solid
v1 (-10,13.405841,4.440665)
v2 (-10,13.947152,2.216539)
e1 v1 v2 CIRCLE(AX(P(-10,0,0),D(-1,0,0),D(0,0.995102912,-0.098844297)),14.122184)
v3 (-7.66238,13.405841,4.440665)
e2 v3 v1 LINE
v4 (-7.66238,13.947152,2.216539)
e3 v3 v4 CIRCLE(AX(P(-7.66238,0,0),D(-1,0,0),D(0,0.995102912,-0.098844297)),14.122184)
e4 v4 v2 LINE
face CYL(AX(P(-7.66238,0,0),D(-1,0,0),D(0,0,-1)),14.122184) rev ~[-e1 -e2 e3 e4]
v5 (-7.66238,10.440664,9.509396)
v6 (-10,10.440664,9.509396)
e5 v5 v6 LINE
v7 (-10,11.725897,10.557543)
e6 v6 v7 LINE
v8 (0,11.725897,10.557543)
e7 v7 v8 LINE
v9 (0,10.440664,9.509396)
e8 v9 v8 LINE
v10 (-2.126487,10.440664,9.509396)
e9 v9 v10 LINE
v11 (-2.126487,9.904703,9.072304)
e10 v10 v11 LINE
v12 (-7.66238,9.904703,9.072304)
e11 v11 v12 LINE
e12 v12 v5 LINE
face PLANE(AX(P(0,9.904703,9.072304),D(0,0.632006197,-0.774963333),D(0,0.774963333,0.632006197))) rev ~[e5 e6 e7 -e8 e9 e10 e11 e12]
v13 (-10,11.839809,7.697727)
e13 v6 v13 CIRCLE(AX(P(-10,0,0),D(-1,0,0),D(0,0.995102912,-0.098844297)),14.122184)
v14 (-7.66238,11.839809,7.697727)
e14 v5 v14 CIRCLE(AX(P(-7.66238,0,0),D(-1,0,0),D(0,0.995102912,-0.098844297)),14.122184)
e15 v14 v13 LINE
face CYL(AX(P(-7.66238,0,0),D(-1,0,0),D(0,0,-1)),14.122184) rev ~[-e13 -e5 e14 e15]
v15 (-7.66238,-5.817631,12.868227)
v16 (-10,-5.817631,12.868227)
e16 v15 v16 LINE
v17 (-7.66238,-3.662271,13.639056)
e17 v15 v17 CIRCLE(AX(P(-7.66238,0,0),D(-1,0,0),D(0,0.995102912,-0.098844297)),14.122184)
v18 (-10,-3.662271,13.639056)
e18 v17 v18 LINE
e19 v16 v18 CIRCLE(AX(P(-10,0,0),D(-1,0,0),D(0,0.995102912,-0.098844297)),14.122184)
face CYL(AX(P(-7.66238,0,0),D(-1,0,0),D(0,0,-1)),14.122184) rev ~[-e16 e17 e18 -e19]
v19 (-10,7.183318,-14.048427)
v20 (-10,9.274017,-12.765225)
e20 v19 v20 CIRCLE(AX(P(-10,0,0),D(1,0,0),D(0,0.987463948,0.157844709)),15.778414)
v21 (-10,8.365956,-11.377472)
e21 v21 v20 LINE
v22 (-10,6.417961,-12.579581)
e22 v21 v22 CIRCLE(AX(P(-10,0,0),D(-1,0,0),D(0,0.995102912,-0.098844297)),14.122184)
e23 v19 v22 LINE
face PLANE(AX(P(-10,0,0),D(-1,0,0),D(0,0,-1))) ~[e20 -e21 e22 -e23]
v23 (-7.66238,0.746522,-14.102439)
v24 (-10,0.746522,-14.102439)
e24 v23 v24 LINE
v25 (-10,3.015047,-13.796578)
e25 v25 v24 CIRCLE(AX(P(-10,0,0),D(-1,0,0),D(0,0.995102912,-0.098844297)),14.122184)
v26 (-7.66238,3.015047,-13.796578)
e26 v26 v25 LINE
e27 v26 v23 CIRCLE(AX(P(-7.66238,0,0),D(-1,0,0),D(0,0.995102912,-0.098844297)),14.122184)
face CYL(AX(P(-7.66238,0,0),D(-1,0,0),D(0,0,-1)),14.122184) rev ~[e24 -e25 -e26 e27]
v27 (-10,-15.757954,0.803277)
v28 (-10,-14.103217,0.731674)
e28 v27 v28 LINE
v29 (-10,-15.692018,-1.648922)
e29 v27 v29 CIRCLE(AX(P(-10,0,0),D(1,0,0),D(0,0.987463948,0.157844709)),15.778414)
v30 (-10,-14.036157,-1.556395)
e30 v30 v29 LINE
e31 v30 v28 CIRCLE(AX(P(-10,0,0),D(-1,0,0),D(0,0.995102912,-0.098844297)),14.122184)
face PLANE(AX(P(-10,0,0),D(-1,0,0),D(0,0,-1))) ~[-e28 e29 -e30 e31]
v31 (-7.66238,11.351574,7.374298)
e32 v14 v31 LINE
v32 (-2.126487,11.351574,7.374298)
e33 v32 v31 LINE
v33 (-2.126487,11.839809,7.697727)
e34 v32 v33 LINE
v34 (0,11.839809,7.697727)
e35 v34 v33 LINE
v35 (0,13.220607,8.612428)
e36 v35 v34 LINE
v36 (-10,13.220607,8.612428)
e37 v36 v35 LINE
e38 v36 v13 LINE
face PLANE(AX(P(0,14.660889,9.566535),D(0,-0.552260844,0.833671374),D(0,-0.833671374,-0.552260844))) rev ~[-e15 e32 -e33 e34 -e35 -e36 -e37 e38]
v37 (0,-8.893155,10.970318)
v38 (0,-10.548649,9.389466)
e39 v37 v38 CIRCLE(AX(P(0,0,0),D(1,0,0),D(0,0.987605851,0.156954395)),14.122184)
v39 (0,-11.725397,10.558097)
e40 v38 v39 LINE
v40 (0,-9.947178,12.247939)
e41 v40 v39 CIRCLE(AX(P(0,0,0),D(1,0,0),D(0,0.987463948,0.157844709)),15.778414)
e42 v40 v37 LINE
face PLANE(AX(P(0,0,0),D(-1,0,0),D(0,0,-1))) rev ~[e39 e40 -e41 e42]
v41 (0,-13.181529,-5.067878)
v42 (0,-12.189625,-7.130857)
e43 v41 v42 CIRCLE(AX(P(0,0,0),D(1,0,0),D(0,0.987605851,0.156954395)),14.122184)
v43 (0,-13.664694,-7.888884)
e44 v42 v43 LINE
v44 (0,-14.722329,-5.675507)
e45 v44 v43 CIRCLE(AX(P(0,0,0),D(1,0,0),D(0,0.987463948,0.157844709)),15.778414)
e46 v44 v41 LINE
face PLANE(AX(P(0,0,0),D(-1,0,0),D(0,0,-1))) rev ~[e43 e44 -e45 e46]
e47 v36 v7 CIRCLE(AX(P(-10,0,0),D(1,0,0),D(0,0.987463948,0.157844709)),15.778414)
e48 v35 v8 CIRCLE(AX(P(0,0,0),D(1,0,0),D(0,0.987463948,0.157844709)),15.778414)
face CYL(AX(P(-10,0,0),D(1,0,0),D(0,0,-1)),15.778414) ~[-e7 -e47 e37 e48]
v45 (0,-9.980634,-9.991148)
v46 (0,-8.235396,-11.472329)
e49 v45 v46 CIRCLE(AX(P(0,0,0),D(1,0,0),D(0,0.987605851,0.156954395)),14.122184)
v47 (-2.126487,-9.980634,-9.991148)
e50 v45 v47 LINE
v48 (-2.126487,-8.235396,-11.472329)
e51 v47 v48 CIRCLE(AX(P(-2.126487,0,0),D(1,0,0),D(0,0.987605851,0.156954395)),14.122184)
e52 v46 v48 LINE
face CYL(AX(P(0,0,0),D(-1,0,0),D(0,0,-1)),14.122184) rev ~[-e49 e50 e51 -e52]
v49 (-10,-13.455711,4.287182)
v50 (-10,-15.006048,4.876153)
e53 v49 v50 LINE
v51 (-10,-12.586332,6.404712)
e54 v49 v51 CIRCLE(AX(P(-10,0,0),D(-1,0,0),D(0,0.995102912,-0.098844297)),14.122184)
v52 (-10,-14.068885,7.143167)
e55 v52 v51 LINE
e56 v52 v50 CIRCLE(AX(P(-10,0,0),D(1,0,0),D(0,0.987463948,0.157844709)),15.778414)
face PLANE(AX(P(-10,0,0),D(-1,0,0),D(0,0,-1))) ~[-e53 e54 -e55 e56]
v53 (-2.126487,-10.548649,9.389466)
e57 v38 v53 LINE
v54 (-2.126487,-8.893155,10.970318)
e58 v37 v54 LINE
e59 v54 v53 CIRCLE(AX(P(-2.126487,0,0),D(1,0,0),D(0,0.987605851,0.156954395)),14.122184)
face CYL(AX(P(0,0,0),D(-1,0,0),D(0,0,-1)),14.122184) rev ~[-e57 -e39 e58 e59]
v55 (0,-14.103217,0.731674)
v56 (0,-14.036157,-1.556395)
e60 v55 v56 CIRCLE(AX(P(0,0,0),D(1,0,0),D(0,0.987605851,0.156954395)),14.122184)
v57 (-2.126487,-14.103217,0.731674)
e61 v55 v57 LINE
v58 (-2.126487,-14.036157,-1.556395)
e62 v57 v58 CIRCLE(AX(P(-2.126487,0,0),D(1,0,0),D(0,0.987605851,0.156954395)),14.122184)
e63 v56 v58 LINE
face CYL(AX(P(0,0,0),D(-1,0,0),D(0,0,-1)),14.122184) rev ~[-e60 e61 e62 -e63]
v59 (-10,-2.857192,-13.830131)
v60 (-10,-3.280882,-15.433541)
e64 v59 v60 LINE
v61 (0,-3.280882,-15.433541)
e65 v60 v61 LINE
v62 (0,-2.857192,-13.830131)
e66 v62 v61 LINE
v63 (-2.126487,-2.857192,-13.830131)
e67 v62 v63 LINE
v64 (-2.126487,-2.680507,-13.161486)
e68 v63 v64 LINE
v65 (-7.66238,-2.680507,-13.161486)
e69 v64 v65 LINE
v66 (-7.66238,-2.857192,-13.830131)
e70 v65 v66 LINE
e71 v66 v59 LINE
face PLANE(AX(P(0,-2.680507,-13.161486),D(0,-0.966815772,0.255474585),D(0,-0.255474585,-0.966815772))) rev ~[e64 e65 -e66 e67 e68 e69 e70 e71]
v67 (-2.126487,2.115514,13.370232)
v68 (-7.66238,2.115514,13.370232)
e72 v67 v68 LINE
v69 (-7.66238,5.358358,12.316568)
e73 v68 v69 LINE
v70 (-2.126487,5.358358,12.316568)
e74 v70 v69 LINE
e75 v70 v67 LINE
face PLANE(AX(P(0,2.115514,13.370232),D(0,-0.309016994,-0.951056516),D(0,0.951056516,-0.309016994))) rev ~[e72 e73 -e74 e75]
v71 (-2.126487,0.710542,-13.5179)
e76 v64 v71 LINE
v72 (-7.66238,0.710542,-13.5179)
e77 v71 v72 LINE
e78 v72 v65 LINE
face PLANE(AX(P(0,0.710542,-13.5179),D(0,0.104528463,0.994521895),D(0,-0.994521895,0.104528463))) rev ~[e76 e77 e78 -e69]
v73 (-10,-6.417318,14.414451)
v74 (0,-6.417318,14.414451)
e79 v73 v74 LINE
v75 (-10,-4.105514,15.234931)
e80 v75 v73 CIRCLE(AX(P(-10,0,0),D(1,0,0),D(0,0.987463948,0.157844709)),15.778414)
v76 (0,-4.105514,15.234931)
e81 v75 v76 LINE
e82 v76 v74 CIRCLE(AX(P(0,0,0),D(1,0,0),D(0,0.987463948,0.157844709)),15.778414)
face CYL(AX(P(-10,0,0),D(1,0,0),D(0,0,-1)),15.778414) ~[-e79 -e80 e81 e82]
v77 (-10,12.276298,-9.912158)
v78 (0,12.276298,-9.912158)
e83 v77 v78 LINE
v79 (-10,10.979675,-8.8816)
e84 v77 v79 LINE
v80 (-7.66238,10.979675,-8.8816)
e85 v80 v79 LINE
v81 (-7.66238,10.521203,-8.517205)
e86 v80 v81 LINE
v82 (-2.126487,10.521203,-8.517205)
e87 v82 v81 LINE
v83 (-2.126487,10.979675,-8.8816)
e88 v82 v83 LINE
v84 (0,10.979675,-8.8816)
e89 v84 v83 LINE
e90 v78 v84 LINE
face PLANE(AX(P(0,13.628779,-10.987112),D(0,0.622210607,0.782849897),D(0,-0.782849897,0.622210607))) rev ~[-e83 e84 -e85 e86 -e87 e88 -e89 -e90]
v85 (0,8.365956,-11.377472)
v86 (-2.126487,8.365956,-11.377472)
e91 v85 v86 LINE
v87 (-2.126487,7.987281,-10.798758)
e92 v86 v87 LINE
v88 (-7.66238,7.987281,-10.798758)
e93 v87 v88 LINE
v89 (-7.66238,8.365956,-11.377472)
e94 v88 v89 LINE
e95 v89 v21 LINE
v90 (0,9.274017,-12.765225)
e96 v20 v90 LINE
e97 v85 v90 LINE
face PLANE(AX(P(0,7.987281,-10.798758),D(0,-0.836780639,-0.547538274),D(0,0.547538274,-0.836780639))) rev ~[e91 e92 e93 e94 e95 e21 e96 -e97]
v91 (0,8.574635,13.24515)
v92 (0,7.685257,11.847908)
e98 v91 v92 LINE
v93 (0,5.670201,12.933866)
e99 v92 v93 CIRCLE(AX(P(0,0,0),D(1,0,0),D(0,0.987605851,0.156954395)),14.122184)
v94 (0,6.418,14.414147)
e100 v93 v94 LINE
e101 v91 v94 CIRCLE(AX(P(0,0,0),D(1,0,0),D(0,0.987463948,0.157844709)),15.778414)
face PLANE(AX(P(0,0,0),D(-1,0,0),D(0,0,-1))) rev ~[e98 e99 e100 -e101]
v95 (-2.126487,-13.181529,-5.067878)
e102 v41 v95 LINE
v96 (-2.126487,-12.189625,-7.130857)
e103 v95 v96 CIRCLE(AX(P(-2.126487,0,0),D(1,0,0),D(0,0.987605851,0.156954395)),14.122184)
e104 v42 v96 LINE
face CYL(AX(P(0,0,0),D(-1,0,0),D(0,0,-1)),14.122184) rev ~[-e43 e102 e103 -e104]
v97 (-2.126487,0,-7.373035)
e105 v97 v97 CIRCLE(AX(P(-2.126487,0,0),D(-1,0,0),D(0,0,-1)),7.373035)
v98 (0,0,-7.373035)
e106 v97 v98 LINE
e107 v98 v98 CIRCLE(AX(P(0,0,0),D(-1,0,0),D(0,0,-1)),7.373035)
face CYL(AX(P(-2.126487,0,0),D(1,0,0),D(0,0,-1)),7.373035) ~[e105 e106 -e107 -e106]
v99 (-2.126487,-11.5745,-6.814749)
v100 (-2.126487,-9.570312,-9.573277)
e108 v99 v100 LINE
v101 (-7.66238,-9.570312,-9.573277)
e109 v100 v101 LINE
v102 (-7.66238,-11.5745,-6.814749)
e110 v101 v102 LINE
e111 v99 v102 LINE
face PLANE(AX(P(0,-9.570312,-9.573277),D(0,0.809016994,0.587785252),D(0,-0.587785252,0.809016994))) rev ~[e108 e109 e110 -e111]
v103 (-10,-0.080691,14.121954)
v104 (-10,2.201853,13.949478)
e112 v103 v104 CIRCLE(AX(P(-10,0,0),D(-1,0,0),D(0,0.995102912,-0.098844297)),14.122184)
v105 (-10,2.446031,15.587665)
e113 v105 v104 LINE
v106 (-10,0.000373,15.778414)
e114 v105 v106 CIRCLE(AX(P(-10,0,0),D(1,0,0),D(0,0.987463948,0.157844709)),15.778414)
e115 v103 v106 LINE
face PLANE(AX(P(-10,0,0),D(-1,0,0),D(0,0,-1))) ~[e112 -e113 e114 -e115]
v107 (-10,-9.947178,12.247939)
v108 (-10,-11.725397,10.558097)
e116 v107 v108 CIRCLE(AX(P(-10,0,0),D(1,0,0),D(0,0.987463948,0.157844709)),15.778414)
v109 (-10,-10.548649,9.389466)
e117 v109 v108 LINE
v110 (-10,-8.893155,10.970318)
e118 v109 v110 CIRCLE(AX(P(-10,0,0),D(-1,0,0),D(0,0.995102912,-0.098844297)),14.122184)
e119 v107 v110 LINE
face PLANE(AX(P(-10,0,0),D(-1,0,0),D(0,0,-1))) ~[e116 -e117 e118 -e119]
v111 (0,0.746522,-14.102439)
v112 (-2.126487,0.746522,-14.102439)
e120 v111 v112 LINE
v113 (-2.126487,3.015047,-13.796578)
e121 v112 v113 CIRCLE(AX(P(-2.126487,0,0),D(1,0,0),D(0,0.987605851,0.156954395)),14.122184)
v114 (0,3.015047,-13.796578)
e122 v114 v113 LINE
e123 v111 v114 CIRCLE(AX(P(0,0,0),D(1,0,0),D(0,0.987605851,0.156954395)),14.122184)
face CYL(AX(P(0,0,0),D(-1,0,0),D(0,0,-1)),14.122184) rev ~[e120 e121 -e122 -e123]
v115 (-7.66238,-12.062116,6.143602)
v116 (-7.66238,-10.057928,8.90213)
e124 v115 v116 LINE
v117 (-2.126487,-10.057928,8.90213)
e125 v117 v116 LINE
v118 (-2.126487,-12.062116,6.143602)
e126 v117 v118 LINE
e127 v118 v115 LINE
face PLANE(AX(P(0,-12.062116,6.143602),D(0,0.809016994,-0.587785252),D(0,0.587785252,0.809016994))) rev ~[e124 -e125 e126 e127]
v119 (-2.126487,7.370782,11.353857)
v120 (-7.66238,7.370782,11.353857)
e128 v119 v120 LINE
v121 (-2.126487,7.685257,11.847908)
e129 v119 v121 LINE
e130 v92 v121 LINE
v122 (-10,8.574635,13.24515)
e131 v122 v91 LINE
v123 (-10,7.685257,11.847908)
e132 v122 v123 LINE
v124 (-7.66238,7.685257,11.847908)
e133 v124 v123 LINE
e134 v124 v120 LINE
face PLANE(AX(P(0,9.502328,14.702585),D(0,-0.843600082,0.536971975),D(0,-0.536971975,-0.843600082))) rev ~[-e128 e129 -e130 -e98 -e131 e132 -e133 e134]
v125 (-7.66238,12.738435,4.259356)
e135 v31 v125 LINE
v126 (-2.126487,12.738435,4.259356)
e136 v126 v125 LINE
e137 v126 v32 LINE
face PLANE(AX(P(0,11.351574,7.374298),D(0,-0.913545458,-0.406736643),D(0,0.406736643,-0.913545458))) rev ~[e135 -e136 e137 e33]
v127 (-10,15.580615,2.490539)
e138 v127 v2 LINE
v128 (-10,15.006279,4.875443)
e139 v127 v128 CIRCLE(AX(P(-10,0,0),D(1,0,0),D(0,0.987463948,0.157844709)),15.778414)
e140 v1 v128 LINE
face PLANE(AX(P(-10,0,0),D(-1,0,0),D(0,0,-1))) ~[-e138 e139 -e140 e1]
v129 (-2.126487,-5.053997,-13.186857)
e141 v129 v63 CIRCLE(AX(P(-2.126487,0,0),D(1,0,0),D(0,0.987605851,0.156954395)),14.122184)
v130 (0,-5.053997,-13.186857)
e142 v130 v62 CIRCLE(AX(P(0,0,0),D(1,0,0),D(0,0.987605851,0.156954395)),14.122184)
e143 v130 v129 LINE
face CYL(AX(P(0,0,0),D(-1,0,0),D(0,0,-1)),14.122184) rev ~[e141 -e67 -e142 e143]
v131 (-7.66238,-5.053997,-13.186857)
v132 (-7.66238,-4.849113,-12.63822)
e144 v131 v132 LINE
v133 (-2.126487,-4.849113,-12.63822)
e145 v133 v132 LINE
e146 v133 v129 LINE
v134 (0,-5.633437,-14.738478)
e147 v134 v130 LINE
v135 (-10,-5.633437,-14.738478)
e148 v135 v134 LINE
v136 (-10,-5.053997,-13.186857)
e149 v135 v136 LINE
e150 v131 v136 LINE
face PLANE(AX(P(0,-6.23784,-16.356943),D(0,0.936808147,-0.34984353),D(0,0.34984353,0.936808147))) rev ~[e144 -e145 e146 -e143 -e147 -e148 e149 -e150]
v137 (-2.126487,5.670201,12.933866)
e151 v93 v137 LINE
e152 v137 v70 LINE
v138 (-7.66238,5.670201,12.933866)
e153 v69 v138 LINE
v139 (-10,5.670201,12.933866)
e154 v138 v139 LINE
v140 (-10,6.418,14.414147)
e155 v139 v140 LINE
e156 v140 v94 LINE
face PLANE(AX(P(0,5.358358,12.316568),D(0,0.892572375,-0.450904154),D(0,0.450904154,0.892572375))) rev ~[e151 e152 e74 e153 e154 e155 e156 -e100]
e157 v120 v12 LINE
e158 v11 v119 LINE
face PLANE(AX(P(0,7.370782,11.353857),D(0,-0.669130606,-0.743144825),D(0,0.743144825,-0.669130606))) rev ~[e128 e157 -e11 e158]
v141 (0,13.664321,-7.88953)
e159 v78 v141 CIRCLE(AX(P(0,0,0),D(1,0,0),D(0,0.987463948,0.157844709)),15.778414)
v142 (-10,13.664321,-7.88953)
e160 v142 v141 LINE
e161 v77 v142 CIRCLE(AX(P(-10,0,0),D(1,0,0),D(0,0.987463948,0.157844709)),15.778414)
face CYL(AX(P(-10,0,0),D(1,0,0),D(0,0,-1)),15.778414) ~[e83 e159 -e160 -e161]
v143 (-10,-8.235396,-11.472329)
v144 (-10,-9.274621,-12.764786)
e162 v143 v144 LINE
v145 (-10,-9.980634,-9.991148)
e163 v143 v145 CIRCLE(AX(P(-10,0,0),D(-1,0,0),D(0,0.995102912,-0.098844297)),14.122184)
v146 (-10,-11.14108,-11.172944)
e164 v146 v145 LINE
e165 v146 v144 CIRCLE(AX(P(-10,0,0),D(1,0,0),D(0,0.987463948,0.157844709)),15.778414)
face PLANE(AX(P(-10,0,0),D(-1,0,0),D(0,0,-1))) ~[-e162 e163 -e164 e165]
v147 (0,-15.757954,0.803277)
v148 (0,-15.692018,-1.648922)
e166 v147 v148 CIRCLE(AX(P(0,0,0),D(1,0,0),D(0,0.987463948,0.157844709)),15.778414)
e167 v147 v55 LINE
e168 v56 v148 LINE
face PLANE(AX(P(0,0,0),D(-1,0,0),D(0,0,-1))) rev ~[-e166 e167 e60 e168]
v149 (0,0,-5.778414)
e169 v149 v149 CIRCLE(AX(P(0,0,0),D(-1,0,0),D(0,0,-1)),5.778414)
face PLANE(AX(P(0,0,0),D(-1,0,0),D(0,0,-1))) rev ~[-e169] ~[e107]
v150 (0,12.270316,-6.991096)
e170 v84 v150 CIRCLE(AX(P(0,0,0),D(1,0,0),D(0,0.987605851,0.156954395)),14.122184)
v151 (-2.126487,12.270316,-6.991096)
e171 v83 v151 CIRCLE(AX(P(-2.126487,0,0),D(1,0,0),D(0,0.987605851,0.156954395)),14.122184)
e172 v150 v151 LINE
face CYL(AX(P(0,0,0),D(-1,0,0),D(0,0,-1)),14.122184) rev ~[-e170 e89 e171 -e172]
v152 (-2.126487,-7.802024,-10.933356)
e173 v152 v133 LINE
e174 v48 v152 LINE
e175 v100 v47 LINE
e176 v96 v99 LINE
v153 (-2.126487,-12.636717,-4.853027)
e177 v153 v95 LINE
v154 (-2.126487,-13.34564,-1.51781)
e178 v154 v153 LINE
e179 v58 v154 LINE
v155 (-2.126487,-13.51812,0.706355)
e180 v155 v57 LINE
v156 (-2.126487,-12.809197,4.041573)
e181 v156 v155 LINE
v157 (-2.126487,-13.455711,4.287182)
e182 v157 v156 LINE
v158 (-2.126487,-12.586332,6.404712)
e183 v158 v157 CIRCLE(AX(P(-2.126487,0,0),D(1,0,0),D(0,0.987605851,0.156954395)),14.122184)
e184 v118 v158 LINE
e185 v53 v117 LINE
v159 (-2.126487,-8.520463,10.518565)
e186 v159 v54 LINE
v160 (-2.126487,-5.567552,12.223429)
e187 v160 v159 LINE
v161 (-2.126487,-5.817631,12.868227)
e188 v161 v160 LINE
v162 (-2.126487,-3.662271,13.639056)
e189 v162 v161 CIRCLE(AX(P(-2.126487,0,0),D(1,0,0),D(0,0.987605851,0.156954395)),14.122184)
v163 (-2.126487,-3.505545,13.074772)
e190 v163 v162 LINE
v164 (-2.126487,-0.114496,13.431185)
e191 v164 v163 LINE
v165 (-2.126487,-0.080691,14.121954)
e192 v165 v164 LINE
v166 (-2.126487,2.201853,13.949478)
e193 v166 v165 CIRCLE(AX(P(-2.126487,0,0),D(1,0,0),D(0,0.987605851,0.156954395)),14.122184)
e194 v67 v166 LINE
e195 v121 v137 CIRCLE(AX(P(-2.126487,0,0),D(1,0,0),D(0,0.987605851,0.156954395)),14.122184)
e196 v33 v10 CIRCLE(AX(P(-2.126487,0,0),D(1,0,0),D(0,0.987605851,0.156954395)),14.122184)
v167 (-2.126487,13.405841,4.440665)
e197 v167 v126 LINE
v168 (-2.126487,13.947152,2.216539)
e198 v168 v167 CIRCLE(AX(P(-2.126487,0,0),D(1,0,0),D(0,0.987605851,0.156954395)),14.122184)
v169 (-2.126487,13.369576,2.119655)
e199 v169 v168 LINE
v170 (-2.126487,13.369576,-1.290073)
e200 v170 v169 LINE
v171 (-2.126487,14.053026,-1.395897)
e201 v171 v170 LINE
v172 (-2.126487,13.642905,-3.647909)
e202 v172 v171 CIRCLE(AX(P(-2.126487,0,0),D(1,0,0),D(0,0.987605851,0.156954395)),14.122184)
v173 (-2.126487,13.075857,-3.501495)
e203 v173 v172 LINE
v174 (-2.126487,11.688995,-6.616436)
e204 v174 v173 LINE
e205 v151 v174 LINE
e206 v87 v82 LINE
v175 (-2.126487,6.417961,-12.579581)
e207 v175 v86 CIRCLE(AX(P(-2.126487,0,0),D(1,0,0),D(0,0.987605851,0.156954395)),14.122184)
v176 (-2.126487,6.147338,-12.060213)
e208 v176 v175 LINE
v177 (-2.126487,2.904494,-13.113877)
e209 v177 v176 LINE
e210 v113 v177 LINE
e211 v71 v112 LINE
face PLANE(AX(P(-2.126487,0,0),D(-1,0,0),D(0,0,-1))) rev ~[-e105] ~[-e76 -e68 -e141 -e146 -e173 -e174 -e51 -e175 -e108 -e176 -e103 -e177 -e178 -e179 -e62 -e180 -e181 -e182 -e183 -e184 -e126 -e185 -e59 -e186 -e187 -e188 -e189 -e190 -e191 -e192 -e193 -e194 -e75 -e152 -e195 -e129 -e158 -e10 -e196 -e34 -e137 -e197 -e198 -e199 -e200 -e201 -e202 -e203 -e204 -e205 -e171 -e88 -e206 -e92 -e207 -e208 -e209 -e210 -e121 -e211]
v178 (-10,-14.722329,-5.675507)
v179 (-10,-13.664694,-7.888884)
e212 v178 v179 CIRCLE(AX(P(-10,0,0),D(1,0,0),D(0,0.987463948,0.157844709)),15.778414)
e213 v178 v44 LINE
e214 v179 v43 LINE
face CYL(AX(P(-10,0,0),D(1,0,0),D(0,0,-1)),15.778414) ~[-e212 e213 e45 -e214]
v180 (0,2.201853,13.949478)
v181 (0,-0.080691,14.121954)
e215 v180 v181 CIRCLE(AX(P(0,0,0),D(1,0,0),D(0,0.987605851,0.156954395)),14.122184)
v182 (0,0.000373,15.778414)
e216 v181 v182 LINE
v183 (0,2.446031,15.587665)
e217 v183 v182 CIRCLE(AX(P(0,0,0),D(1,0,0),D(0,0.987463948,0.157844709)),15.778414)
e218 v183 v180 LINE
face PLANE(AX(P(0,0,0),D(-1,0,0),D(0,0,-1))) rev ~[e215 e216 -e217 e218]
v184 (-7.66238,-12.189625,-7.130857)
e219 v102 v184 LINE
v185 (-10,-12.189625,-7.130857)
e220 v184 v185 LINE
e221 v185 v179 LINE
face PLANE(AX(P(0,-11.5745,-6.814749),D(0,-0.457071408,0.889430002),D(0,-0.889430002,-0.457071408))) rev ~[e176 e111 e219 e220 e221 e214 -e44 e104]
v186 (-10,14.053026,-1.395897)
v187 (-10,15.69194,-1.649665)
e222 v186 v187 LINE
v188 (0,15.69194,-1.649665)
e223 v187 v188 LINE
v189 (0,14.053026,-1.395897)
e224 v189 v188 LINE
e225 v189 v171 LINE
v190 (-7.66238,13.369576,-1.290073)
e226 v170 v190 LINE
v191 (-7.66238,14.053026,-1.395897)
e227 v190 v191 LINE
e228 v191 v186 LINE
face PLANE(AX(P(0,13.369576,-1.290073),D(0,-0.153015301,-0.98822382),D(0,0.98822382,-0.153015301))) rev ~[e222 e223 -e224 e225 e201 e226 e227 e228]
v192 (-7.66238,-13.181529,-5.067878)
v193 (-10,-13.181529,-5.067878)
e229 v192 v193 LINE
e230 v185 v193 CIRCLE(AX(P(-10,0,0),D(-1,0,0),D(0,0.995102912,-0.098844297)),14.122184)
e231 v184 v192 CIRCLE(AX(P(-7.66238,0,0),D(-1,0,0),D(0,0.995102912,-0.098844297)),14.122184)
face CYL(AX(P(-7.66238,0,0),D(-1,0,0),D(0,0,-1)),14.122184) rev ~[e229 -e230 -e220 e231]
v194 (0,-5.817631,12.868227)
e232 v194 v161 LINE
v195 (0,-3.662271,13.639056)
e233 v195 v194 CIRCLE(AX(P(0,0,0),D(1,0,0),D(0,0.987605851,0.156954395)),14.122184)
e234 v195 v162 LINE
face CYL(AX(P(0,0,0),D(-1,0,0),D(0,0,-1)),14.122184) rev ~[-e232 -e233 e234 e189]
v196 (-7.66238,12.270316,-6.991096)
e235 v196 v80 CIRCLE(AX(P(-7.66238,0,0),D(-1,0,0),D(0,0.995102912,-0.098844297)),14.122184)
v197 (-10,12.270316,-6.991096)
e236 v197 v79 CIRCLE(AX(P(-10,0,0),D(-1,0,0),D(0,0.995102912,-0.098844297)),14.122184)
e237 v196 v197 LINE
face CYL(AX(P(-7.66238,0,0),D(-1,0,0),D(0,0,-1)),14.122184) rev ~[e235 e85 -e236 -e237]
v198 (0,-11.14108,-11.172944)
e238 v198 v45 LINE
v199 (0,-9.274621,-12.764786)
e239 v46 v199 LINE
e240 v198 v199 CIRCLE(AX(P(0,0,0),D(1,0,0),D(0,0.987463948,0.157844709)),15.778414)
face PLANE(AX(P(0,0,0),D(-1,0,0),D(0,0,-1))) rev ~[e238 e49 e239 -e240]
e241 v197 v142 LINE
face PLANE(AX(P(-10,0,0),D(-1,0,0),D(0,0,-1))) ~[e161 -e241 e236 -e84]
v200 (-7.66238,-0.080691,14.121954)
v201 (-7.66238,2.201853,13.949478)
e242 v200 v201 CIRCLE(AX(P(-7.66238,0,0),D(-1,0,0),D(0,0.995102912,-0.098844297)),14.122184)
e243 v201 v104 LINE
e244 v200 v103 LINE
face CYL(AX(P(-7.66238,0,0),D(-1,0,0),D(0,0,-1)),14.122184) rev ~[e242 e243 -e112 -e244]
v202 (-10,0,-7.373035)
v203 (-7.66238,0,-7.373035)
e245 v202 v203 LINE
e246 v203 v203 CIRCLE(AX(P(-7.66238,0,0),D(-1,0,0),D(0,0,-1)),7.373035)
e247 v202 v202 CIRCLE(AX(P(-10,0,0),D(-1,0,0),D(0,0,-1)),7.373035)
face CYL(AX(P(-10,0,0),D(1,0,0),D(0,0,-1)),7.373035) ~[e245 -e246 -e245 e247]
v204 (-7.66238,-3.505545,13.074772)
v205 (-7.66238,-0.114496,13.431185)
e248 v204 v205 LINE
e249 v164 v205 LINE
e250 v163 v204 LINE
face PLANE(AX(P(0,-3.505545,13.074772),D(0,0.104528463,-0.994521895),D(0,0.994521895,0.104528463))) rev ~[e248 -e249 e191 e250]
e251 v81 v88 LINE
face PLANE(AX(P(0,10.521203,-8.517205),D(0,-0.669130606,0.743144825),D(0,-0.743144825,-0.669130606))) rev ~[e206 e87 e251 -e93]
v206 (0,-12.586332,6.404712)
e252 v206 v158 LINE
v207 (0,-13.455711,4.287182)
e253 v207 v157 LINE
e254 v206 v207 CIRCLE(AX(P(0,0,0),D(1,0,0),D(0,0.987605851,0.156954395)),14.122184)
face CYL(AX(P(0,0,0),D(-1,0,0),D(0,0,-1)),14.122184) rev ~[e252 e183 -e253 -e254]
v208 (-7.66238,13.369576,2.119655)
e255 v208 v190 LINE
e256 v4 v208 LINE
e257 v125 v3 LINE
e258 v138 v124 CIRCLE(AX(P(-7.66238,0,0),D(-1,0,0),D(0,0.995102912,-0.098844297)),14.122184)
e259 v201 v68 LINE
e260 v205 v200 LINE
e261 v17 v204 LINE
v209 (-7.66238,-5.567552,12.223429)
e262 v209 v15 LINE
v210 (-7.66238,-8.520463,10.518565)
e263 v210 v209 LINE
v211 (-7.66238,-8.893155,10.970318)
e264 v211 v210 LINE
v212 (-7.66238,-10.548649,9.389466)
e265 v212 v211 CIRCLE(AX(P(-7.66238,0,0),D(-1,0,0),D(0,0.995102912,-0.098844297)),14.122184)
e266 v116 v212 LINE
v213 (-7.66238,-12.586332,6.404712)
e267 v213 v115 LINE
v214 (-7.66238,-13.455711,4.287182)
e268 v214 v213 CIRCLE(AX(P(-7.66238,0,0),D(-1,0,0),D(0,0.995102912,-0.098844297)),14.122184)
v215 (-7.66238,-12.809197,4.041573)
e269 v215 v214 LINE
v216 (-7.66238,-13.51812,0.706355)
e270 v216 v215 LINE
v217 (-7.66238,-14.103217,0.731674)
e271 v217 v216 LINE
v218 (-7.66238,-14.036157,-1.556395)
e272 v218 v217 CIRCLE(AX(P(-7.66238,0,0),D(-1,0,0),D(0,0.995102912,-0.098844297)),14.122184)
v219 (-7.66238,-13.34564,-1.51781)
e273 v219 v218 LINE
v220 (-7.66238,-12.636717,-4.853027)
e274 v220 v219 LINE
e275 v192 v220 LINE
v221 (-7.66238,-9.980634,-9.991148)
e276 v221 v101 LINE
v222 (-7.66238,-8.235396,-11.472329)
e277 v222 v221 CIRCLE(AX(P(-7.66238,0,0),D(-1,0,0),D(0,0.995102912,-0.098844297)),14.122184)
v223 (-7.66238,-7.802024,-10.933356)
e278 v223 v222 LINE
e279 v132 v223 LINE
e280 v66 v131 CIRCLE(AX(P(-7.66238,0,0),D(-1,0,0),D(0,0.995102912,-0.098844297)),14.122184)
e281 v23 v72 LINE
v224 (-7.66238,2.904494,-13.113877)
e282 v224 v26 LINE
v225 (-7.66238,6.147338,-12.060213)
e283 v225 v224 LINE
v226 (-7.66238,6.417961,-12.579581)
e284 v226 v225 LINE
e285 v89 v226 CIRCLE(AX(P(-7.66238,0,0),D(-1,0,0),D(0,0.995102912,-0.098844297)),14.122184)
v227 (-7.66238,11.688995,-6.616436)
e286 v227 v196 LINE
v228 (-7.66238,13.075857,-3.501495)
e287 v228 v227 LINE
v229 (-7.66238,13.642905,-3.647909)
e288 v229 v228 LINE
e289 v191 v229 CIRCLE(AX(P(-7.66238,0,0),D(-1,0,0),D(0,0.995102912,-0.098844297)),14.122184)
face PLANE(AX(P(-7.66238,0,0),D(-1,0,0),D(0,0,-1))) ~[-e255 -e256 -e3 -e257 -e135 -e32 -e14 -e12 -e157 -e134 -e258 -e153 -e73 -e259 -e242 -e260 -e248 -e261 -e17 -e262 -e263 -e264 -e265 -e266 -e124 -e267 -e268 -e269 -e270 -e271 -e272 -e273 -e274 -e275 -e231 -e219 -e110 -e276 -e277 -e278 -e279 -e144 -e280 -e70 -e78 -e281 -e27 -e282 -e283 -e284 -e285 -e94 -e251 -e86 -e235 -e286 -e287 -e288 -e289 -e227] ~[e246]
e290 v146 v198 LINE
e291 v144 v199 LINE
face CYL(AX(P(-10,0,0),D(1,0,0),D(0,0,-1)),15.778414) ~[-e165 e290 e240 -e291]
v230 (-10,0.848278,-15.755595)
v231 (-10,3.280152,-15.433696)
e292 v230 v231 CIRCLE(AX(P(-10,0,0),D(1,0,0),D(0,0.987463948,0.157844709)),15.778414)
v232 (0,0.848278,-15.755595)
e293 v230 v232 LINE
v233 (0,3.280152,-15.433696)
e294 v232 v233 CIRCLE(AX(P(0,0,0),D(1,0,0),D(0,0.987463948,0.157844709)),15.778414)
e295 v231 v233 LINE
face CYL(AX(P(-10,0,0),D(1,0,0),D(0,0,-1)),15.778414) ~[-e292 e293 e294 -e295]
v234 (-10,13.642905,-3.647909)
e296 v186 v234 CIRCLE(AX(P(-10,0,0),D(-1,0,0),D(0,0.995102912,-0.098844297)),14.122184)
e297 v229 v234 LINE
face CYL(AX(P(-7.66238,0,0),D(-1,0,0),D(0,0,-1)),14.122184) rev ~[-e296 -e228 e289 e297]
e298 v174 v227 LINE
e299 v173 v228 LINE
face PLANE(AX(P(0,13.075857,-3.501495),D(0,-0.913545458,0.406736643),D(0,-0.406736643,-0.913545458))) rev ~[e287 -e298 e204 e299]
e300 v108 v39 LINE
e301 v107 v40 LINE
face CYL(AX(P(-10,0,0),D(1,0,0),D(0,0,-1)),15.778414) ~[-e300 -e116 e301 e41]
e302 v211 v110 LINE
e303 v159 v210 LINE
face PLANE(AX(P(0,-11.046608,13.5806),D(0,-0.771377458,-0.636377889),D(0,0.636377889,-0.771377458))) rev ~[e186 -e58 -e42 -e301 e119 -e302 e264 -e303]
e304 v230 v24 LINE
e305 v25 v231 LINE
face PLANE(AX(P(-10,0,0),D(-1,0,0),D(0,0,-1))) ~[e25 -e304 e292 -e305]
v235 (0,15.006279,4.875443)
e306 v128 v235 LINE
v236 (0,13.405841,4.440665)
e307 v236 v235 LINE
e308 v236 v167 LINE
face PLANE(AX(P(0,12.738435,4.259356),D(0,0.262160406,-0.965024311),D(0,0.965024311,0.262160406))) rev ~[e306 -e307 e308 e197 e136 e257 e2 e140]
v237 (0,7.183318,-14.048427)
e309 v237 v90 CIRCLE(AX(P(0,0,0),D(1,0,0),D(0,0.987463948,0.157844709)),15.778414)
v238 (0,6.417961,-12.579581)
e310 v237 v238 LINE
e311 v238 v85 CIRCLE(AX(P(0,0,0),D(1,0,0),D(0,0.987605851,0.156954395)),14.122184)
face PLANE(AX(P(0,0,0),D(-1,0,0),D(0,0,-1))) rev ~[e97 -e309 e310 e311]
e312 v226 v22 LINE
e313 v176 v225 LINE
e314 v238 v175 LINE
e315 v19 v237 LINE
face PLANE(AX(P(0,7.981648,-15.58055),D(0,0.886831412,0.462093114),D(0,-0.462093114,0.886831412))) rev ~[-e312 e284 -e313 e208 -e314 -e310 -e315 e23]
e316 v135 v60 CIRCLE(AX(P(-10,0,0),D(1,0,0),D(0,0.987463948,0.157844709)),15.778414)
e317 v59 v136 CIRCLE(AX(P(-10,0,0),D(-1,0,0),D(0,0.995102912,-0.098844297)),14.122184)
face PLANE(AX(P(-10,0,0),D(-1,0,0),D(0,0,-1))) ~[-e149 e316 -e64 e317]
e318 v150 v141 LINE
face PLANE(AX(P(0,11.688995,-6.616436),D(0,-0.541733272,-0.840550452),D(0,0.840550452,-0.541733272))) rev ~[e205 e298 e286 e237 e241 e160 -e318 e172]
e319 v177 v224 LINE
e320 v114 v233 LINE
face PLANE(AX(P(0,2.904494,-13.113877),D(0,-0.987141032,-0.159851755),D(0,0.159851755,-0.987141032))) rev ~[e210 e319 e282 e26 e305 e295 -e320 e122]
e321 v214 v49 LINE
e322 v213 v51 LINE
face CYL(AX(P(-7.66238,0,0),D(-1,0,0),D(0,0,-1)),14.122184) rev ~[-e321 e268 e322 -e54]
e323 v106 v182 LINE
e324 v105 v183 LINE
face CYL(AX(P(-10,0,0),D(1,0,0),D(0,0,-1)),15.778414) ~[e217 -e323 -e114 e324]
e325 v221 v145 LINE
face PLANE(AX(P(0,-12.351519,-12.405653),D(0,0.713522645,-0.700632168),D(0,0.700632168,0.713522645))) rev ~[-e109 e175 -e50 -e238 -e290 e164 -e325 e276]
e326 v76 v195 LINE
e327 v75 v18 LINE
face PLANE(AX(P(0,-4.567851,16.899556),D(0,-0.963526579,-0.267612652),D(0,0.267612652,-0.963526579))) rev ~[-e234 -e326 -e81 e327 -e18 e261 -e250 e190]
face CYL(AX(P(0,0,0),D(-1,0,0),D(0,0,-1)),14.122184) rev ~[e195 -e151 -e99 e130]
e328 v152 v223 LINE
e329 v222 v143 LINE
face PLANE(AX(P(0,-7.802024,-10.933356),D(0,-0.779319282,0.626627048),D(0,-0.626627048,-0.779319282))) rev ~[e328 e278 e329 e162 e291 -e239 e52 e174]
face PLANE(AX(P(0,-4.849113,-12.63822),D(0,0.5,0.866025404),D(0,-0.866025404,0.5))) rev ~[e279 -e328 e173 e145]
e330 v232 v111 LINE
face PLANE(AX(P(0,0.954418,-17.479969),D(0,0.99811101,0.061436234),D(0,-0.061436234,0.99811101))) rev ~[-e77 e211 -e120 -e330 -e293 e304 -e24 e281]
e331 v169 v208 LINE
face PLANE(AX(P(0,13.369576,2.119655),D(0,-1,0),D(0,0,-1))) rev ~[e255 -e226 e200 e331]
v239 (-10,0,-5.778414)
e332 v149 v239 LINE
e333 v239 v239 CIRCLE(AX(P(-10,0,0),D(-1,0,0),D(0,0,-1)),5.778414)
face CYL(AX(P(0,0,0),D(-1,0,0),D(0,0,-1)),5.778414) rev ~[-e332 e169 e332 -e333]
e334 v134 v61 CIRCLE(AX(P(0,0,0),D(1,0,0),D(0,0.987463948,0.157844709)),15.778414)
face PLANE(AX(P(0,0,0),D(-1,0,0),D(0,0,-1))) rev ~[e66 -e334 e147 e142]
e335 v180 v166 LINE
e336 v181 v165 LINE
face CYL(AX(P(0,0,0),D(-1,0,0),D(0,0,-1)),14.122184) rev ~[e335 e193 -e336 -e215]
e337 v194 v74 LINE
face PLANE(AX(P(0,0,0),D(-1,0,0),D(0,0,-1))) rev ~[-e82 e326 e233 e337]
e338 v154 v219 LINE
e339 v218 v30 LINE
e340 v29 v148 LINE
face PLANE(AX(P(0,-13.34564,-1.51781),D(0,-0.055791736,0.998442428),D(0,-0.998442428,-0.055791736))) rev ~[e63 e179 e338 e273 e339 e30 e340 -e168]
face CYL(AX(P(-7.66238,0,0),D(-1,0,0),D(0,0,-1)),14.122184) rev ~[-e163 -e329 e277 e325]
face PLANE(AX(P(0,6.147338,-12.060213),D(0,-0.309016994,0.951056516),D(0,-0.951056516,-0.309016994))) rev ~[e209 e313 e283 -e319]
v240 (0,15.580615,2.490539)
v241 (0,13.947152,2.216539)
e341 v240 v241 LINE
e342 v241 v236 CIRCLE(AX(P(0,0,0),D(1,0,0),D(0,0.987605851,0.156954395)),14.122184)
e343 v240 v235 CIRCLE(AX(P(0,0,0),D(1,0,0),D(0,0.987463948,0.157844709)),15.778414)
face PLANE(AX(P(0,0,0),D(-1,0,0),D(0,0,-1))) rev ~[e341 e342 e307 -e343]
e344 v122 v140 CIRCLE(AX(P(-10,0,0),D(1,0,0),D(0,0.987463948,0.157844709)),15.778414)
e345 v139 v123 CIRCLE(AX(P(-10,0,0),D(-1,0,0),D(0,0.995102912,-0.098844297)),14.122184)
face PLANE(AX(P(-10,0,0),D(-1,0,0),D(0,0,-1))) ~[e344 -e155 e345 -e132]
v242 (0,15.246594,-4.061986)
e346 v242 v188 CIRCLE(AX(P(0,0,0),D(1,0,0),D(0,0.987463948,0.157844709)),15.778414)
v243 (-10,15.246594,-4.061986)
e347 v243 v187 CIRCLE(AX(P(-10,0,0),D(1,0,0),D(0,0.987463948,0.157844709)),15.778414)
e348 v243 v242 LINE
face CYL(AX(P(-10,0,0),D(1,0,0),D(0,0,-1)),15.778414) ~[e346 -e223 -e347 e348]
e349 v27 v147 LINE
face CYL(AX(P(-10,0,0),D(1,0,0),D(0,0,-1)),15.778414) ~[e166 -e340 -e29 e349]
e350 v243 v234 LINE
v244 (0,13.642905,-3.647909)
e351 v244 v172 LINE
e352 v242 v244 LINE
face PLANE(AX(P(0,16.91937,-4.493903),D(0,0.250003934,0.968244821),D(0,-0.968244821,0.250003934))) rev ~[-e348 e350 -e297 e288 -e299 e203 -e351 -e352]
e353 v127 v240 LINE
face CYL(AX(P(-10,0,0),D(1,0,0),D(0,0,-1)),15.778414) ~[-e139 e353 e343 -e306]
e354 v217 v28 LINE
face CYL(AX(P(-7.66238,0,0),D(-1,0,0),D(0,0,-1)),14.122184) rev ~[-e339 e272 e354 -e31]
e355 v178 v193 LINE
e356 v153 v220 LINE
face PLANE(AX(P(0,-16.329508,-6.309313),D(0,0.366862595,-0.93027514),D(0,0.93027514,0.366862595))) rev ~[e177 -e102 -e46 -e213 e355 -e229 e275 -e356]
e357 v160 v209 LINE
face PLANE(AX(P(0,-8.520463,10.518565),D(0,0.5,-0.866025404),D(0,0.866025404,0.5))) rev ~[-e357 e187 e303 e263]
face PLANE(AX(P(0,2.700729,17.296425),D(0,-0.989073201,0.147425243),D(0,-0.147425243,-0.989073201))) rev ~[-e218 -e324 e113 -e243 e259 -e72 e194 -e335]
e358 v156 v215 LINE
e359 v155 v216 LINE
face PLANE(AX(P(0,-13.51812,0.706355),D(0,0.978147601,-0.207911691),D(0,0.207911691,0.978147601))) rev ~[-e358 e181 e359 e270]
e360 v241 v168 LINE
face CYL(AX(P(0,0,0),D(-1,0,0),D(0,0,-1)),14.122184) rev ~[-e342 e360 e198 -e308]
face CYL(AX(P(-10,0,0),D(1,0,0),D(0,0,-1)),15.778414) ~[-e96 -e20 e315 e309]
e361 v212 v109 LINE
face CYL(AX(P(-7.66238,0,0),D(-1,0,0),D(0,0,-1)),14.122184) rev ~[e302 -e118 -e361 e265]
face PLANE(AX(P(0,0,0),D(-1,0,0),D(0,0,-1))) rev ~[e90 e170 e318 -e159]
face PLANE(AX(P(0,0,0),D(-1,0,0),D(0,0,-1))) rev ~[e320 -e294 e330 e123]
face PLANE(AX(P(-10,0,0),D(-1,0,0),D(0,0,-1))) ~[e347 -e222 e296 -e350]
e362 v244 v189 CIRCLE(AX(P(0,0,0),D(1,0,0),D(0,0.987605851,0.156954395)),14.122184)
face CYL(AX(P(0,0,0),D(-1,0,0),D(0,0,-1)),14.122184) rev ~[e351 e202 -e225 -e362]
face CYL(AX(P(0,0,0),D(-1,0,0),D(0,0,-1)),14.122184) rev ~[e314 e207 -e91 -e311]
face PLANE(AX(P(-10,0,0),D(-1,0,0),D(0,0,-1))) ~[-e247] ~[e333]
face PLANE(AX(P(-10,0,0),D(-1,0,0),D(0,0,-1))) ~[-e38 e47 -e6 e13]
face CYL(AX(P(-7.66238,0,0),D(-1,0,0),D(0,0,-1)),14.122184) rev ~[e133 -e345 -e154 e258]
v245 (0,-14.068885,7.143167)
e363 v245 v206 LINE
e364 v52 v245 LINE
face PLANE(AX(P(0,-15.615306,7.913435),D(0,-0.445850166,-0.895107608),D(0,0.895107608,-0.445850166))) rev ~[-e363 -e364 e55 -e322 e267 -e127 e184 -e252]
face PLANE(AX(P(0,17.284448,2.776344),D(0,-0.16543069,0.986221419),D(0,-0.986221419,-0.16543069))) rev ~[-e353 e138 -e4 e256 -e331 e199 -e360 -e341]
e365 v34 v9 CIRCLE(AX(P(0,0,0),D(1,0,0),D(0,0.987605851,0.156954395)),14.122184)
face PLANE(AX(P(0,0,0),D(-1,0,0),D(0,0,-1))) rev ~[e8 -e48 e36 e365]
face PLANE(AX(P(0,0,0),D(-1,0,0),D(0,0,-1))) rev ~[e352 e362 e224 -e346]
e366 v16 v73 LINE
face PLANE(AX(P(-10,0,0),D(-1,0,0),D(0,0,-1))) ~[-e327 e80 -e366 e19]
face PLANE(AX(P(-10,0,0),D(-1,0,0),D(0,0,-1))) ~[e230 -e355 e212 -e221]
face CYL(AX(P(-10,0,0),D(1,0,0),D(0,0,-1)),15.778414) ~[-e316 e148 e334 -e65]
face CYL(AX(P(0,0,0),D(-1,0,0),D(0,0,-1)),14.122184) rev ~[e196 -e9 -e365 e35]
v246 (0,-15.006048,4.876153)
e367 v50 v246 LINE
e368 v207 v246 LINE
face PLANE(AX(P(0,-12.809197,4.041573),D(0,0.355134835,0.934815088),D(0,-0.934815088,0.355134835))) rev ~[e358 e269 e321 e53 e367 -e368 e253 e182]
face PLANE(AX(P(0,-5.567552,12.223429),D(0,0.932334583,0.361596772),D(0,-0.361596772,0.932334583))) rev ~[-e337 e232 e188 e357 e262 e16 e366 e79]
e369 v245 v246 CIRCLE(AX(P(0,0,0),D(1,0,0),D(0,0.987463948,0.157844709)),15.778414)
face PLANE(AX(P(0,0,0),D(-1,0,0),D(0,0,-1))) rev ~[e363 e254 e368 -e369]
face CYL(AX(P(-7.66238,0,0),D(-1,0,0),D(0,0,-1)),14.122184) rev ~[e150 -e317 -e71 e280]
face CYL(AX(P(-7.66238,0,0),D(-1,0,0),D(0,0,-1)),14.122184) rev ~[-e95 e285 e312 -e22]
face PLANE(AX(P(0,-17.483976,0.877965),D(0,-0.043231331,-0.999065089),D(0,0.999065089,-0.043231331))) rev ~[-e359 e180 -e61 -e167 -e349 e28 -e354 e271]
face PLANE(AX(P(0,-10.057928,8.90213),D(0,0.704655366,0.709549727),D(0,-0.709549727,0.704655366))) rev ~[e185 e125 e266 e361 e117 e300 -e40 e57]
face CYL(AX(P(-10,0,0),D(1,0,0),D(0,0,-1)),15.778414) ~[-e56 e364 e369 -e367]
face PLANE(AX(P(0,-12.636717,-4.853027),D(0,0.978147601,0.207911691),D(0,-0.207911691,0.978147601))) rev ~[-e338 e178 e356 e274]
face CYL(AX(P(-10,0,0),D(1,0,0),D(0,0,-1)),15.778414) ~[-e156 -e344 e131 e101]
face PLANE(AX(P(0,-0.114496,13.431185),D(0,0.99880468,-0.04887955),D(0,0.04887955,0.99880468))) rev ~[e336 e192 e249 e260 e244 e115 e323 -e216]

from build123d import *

# Parameters (mm, degrees)
CUT_EXTRUDE3_DEPTH = 16
CIRPATTERN1_COUNT  = 15


with BuildPart() as part:
    # Sketch1 → Revolve1 (revolve)
    with BuildSketch(Plane.XY, mode=Mode.PRIVATE) as revolve1_sk:
        Polygon((0, 5.778414329), (-10, 5.778414329), (-10, 7.373034886), (-7.662379617, 7.373034886), (-7.662379617, 14.122184027), (-10, 14.122184027), (-10, 15.778414329), (0, 15.778414329), (0, 14.122184027), (-2.126486554, 14.122184027), (-2.126486554, 7.373034886), (0, 7.373034886), align=None)
    revolve(revolve1_sk.sketch.rotate(Axis((0, 0, 0), (-1, 0, 0)), 90), axis=Axis((0, 0, 0), (-1, 0, 0)))

    # Sketch2 → Cut-Extrude3 (cut)
    with BuildSketch(Plane(origin=(0, 0, 0), x_dir=(0, 0, -1), z_dir=(1, 0, 0))):
        Polygon((-2.776343501, 17.284448499), (-2.119655167, 13.369575739), (1.290072721, 13.369575739), (1.896246568, 17.284448499), align=None)
    cut_extrude3 = extrude(amount=-CUT_EXTRUDE3_DEPTH, mode=Mode.SUBTRACT)

    # CirPattern1: Cut-Extrude3 ×15 about axis
    cirpattern1_axis = Axis((0, 0, 0), (1, 0, 0))
    for i in range(1, CIRPATTERN1_COUNT):
        add(cut_extrude3.rotate(cirpattern1_axis, i * 360 / CIRPATTERN1_COUNT), mode=Mode.SUBTRACT)


solid = part.part
